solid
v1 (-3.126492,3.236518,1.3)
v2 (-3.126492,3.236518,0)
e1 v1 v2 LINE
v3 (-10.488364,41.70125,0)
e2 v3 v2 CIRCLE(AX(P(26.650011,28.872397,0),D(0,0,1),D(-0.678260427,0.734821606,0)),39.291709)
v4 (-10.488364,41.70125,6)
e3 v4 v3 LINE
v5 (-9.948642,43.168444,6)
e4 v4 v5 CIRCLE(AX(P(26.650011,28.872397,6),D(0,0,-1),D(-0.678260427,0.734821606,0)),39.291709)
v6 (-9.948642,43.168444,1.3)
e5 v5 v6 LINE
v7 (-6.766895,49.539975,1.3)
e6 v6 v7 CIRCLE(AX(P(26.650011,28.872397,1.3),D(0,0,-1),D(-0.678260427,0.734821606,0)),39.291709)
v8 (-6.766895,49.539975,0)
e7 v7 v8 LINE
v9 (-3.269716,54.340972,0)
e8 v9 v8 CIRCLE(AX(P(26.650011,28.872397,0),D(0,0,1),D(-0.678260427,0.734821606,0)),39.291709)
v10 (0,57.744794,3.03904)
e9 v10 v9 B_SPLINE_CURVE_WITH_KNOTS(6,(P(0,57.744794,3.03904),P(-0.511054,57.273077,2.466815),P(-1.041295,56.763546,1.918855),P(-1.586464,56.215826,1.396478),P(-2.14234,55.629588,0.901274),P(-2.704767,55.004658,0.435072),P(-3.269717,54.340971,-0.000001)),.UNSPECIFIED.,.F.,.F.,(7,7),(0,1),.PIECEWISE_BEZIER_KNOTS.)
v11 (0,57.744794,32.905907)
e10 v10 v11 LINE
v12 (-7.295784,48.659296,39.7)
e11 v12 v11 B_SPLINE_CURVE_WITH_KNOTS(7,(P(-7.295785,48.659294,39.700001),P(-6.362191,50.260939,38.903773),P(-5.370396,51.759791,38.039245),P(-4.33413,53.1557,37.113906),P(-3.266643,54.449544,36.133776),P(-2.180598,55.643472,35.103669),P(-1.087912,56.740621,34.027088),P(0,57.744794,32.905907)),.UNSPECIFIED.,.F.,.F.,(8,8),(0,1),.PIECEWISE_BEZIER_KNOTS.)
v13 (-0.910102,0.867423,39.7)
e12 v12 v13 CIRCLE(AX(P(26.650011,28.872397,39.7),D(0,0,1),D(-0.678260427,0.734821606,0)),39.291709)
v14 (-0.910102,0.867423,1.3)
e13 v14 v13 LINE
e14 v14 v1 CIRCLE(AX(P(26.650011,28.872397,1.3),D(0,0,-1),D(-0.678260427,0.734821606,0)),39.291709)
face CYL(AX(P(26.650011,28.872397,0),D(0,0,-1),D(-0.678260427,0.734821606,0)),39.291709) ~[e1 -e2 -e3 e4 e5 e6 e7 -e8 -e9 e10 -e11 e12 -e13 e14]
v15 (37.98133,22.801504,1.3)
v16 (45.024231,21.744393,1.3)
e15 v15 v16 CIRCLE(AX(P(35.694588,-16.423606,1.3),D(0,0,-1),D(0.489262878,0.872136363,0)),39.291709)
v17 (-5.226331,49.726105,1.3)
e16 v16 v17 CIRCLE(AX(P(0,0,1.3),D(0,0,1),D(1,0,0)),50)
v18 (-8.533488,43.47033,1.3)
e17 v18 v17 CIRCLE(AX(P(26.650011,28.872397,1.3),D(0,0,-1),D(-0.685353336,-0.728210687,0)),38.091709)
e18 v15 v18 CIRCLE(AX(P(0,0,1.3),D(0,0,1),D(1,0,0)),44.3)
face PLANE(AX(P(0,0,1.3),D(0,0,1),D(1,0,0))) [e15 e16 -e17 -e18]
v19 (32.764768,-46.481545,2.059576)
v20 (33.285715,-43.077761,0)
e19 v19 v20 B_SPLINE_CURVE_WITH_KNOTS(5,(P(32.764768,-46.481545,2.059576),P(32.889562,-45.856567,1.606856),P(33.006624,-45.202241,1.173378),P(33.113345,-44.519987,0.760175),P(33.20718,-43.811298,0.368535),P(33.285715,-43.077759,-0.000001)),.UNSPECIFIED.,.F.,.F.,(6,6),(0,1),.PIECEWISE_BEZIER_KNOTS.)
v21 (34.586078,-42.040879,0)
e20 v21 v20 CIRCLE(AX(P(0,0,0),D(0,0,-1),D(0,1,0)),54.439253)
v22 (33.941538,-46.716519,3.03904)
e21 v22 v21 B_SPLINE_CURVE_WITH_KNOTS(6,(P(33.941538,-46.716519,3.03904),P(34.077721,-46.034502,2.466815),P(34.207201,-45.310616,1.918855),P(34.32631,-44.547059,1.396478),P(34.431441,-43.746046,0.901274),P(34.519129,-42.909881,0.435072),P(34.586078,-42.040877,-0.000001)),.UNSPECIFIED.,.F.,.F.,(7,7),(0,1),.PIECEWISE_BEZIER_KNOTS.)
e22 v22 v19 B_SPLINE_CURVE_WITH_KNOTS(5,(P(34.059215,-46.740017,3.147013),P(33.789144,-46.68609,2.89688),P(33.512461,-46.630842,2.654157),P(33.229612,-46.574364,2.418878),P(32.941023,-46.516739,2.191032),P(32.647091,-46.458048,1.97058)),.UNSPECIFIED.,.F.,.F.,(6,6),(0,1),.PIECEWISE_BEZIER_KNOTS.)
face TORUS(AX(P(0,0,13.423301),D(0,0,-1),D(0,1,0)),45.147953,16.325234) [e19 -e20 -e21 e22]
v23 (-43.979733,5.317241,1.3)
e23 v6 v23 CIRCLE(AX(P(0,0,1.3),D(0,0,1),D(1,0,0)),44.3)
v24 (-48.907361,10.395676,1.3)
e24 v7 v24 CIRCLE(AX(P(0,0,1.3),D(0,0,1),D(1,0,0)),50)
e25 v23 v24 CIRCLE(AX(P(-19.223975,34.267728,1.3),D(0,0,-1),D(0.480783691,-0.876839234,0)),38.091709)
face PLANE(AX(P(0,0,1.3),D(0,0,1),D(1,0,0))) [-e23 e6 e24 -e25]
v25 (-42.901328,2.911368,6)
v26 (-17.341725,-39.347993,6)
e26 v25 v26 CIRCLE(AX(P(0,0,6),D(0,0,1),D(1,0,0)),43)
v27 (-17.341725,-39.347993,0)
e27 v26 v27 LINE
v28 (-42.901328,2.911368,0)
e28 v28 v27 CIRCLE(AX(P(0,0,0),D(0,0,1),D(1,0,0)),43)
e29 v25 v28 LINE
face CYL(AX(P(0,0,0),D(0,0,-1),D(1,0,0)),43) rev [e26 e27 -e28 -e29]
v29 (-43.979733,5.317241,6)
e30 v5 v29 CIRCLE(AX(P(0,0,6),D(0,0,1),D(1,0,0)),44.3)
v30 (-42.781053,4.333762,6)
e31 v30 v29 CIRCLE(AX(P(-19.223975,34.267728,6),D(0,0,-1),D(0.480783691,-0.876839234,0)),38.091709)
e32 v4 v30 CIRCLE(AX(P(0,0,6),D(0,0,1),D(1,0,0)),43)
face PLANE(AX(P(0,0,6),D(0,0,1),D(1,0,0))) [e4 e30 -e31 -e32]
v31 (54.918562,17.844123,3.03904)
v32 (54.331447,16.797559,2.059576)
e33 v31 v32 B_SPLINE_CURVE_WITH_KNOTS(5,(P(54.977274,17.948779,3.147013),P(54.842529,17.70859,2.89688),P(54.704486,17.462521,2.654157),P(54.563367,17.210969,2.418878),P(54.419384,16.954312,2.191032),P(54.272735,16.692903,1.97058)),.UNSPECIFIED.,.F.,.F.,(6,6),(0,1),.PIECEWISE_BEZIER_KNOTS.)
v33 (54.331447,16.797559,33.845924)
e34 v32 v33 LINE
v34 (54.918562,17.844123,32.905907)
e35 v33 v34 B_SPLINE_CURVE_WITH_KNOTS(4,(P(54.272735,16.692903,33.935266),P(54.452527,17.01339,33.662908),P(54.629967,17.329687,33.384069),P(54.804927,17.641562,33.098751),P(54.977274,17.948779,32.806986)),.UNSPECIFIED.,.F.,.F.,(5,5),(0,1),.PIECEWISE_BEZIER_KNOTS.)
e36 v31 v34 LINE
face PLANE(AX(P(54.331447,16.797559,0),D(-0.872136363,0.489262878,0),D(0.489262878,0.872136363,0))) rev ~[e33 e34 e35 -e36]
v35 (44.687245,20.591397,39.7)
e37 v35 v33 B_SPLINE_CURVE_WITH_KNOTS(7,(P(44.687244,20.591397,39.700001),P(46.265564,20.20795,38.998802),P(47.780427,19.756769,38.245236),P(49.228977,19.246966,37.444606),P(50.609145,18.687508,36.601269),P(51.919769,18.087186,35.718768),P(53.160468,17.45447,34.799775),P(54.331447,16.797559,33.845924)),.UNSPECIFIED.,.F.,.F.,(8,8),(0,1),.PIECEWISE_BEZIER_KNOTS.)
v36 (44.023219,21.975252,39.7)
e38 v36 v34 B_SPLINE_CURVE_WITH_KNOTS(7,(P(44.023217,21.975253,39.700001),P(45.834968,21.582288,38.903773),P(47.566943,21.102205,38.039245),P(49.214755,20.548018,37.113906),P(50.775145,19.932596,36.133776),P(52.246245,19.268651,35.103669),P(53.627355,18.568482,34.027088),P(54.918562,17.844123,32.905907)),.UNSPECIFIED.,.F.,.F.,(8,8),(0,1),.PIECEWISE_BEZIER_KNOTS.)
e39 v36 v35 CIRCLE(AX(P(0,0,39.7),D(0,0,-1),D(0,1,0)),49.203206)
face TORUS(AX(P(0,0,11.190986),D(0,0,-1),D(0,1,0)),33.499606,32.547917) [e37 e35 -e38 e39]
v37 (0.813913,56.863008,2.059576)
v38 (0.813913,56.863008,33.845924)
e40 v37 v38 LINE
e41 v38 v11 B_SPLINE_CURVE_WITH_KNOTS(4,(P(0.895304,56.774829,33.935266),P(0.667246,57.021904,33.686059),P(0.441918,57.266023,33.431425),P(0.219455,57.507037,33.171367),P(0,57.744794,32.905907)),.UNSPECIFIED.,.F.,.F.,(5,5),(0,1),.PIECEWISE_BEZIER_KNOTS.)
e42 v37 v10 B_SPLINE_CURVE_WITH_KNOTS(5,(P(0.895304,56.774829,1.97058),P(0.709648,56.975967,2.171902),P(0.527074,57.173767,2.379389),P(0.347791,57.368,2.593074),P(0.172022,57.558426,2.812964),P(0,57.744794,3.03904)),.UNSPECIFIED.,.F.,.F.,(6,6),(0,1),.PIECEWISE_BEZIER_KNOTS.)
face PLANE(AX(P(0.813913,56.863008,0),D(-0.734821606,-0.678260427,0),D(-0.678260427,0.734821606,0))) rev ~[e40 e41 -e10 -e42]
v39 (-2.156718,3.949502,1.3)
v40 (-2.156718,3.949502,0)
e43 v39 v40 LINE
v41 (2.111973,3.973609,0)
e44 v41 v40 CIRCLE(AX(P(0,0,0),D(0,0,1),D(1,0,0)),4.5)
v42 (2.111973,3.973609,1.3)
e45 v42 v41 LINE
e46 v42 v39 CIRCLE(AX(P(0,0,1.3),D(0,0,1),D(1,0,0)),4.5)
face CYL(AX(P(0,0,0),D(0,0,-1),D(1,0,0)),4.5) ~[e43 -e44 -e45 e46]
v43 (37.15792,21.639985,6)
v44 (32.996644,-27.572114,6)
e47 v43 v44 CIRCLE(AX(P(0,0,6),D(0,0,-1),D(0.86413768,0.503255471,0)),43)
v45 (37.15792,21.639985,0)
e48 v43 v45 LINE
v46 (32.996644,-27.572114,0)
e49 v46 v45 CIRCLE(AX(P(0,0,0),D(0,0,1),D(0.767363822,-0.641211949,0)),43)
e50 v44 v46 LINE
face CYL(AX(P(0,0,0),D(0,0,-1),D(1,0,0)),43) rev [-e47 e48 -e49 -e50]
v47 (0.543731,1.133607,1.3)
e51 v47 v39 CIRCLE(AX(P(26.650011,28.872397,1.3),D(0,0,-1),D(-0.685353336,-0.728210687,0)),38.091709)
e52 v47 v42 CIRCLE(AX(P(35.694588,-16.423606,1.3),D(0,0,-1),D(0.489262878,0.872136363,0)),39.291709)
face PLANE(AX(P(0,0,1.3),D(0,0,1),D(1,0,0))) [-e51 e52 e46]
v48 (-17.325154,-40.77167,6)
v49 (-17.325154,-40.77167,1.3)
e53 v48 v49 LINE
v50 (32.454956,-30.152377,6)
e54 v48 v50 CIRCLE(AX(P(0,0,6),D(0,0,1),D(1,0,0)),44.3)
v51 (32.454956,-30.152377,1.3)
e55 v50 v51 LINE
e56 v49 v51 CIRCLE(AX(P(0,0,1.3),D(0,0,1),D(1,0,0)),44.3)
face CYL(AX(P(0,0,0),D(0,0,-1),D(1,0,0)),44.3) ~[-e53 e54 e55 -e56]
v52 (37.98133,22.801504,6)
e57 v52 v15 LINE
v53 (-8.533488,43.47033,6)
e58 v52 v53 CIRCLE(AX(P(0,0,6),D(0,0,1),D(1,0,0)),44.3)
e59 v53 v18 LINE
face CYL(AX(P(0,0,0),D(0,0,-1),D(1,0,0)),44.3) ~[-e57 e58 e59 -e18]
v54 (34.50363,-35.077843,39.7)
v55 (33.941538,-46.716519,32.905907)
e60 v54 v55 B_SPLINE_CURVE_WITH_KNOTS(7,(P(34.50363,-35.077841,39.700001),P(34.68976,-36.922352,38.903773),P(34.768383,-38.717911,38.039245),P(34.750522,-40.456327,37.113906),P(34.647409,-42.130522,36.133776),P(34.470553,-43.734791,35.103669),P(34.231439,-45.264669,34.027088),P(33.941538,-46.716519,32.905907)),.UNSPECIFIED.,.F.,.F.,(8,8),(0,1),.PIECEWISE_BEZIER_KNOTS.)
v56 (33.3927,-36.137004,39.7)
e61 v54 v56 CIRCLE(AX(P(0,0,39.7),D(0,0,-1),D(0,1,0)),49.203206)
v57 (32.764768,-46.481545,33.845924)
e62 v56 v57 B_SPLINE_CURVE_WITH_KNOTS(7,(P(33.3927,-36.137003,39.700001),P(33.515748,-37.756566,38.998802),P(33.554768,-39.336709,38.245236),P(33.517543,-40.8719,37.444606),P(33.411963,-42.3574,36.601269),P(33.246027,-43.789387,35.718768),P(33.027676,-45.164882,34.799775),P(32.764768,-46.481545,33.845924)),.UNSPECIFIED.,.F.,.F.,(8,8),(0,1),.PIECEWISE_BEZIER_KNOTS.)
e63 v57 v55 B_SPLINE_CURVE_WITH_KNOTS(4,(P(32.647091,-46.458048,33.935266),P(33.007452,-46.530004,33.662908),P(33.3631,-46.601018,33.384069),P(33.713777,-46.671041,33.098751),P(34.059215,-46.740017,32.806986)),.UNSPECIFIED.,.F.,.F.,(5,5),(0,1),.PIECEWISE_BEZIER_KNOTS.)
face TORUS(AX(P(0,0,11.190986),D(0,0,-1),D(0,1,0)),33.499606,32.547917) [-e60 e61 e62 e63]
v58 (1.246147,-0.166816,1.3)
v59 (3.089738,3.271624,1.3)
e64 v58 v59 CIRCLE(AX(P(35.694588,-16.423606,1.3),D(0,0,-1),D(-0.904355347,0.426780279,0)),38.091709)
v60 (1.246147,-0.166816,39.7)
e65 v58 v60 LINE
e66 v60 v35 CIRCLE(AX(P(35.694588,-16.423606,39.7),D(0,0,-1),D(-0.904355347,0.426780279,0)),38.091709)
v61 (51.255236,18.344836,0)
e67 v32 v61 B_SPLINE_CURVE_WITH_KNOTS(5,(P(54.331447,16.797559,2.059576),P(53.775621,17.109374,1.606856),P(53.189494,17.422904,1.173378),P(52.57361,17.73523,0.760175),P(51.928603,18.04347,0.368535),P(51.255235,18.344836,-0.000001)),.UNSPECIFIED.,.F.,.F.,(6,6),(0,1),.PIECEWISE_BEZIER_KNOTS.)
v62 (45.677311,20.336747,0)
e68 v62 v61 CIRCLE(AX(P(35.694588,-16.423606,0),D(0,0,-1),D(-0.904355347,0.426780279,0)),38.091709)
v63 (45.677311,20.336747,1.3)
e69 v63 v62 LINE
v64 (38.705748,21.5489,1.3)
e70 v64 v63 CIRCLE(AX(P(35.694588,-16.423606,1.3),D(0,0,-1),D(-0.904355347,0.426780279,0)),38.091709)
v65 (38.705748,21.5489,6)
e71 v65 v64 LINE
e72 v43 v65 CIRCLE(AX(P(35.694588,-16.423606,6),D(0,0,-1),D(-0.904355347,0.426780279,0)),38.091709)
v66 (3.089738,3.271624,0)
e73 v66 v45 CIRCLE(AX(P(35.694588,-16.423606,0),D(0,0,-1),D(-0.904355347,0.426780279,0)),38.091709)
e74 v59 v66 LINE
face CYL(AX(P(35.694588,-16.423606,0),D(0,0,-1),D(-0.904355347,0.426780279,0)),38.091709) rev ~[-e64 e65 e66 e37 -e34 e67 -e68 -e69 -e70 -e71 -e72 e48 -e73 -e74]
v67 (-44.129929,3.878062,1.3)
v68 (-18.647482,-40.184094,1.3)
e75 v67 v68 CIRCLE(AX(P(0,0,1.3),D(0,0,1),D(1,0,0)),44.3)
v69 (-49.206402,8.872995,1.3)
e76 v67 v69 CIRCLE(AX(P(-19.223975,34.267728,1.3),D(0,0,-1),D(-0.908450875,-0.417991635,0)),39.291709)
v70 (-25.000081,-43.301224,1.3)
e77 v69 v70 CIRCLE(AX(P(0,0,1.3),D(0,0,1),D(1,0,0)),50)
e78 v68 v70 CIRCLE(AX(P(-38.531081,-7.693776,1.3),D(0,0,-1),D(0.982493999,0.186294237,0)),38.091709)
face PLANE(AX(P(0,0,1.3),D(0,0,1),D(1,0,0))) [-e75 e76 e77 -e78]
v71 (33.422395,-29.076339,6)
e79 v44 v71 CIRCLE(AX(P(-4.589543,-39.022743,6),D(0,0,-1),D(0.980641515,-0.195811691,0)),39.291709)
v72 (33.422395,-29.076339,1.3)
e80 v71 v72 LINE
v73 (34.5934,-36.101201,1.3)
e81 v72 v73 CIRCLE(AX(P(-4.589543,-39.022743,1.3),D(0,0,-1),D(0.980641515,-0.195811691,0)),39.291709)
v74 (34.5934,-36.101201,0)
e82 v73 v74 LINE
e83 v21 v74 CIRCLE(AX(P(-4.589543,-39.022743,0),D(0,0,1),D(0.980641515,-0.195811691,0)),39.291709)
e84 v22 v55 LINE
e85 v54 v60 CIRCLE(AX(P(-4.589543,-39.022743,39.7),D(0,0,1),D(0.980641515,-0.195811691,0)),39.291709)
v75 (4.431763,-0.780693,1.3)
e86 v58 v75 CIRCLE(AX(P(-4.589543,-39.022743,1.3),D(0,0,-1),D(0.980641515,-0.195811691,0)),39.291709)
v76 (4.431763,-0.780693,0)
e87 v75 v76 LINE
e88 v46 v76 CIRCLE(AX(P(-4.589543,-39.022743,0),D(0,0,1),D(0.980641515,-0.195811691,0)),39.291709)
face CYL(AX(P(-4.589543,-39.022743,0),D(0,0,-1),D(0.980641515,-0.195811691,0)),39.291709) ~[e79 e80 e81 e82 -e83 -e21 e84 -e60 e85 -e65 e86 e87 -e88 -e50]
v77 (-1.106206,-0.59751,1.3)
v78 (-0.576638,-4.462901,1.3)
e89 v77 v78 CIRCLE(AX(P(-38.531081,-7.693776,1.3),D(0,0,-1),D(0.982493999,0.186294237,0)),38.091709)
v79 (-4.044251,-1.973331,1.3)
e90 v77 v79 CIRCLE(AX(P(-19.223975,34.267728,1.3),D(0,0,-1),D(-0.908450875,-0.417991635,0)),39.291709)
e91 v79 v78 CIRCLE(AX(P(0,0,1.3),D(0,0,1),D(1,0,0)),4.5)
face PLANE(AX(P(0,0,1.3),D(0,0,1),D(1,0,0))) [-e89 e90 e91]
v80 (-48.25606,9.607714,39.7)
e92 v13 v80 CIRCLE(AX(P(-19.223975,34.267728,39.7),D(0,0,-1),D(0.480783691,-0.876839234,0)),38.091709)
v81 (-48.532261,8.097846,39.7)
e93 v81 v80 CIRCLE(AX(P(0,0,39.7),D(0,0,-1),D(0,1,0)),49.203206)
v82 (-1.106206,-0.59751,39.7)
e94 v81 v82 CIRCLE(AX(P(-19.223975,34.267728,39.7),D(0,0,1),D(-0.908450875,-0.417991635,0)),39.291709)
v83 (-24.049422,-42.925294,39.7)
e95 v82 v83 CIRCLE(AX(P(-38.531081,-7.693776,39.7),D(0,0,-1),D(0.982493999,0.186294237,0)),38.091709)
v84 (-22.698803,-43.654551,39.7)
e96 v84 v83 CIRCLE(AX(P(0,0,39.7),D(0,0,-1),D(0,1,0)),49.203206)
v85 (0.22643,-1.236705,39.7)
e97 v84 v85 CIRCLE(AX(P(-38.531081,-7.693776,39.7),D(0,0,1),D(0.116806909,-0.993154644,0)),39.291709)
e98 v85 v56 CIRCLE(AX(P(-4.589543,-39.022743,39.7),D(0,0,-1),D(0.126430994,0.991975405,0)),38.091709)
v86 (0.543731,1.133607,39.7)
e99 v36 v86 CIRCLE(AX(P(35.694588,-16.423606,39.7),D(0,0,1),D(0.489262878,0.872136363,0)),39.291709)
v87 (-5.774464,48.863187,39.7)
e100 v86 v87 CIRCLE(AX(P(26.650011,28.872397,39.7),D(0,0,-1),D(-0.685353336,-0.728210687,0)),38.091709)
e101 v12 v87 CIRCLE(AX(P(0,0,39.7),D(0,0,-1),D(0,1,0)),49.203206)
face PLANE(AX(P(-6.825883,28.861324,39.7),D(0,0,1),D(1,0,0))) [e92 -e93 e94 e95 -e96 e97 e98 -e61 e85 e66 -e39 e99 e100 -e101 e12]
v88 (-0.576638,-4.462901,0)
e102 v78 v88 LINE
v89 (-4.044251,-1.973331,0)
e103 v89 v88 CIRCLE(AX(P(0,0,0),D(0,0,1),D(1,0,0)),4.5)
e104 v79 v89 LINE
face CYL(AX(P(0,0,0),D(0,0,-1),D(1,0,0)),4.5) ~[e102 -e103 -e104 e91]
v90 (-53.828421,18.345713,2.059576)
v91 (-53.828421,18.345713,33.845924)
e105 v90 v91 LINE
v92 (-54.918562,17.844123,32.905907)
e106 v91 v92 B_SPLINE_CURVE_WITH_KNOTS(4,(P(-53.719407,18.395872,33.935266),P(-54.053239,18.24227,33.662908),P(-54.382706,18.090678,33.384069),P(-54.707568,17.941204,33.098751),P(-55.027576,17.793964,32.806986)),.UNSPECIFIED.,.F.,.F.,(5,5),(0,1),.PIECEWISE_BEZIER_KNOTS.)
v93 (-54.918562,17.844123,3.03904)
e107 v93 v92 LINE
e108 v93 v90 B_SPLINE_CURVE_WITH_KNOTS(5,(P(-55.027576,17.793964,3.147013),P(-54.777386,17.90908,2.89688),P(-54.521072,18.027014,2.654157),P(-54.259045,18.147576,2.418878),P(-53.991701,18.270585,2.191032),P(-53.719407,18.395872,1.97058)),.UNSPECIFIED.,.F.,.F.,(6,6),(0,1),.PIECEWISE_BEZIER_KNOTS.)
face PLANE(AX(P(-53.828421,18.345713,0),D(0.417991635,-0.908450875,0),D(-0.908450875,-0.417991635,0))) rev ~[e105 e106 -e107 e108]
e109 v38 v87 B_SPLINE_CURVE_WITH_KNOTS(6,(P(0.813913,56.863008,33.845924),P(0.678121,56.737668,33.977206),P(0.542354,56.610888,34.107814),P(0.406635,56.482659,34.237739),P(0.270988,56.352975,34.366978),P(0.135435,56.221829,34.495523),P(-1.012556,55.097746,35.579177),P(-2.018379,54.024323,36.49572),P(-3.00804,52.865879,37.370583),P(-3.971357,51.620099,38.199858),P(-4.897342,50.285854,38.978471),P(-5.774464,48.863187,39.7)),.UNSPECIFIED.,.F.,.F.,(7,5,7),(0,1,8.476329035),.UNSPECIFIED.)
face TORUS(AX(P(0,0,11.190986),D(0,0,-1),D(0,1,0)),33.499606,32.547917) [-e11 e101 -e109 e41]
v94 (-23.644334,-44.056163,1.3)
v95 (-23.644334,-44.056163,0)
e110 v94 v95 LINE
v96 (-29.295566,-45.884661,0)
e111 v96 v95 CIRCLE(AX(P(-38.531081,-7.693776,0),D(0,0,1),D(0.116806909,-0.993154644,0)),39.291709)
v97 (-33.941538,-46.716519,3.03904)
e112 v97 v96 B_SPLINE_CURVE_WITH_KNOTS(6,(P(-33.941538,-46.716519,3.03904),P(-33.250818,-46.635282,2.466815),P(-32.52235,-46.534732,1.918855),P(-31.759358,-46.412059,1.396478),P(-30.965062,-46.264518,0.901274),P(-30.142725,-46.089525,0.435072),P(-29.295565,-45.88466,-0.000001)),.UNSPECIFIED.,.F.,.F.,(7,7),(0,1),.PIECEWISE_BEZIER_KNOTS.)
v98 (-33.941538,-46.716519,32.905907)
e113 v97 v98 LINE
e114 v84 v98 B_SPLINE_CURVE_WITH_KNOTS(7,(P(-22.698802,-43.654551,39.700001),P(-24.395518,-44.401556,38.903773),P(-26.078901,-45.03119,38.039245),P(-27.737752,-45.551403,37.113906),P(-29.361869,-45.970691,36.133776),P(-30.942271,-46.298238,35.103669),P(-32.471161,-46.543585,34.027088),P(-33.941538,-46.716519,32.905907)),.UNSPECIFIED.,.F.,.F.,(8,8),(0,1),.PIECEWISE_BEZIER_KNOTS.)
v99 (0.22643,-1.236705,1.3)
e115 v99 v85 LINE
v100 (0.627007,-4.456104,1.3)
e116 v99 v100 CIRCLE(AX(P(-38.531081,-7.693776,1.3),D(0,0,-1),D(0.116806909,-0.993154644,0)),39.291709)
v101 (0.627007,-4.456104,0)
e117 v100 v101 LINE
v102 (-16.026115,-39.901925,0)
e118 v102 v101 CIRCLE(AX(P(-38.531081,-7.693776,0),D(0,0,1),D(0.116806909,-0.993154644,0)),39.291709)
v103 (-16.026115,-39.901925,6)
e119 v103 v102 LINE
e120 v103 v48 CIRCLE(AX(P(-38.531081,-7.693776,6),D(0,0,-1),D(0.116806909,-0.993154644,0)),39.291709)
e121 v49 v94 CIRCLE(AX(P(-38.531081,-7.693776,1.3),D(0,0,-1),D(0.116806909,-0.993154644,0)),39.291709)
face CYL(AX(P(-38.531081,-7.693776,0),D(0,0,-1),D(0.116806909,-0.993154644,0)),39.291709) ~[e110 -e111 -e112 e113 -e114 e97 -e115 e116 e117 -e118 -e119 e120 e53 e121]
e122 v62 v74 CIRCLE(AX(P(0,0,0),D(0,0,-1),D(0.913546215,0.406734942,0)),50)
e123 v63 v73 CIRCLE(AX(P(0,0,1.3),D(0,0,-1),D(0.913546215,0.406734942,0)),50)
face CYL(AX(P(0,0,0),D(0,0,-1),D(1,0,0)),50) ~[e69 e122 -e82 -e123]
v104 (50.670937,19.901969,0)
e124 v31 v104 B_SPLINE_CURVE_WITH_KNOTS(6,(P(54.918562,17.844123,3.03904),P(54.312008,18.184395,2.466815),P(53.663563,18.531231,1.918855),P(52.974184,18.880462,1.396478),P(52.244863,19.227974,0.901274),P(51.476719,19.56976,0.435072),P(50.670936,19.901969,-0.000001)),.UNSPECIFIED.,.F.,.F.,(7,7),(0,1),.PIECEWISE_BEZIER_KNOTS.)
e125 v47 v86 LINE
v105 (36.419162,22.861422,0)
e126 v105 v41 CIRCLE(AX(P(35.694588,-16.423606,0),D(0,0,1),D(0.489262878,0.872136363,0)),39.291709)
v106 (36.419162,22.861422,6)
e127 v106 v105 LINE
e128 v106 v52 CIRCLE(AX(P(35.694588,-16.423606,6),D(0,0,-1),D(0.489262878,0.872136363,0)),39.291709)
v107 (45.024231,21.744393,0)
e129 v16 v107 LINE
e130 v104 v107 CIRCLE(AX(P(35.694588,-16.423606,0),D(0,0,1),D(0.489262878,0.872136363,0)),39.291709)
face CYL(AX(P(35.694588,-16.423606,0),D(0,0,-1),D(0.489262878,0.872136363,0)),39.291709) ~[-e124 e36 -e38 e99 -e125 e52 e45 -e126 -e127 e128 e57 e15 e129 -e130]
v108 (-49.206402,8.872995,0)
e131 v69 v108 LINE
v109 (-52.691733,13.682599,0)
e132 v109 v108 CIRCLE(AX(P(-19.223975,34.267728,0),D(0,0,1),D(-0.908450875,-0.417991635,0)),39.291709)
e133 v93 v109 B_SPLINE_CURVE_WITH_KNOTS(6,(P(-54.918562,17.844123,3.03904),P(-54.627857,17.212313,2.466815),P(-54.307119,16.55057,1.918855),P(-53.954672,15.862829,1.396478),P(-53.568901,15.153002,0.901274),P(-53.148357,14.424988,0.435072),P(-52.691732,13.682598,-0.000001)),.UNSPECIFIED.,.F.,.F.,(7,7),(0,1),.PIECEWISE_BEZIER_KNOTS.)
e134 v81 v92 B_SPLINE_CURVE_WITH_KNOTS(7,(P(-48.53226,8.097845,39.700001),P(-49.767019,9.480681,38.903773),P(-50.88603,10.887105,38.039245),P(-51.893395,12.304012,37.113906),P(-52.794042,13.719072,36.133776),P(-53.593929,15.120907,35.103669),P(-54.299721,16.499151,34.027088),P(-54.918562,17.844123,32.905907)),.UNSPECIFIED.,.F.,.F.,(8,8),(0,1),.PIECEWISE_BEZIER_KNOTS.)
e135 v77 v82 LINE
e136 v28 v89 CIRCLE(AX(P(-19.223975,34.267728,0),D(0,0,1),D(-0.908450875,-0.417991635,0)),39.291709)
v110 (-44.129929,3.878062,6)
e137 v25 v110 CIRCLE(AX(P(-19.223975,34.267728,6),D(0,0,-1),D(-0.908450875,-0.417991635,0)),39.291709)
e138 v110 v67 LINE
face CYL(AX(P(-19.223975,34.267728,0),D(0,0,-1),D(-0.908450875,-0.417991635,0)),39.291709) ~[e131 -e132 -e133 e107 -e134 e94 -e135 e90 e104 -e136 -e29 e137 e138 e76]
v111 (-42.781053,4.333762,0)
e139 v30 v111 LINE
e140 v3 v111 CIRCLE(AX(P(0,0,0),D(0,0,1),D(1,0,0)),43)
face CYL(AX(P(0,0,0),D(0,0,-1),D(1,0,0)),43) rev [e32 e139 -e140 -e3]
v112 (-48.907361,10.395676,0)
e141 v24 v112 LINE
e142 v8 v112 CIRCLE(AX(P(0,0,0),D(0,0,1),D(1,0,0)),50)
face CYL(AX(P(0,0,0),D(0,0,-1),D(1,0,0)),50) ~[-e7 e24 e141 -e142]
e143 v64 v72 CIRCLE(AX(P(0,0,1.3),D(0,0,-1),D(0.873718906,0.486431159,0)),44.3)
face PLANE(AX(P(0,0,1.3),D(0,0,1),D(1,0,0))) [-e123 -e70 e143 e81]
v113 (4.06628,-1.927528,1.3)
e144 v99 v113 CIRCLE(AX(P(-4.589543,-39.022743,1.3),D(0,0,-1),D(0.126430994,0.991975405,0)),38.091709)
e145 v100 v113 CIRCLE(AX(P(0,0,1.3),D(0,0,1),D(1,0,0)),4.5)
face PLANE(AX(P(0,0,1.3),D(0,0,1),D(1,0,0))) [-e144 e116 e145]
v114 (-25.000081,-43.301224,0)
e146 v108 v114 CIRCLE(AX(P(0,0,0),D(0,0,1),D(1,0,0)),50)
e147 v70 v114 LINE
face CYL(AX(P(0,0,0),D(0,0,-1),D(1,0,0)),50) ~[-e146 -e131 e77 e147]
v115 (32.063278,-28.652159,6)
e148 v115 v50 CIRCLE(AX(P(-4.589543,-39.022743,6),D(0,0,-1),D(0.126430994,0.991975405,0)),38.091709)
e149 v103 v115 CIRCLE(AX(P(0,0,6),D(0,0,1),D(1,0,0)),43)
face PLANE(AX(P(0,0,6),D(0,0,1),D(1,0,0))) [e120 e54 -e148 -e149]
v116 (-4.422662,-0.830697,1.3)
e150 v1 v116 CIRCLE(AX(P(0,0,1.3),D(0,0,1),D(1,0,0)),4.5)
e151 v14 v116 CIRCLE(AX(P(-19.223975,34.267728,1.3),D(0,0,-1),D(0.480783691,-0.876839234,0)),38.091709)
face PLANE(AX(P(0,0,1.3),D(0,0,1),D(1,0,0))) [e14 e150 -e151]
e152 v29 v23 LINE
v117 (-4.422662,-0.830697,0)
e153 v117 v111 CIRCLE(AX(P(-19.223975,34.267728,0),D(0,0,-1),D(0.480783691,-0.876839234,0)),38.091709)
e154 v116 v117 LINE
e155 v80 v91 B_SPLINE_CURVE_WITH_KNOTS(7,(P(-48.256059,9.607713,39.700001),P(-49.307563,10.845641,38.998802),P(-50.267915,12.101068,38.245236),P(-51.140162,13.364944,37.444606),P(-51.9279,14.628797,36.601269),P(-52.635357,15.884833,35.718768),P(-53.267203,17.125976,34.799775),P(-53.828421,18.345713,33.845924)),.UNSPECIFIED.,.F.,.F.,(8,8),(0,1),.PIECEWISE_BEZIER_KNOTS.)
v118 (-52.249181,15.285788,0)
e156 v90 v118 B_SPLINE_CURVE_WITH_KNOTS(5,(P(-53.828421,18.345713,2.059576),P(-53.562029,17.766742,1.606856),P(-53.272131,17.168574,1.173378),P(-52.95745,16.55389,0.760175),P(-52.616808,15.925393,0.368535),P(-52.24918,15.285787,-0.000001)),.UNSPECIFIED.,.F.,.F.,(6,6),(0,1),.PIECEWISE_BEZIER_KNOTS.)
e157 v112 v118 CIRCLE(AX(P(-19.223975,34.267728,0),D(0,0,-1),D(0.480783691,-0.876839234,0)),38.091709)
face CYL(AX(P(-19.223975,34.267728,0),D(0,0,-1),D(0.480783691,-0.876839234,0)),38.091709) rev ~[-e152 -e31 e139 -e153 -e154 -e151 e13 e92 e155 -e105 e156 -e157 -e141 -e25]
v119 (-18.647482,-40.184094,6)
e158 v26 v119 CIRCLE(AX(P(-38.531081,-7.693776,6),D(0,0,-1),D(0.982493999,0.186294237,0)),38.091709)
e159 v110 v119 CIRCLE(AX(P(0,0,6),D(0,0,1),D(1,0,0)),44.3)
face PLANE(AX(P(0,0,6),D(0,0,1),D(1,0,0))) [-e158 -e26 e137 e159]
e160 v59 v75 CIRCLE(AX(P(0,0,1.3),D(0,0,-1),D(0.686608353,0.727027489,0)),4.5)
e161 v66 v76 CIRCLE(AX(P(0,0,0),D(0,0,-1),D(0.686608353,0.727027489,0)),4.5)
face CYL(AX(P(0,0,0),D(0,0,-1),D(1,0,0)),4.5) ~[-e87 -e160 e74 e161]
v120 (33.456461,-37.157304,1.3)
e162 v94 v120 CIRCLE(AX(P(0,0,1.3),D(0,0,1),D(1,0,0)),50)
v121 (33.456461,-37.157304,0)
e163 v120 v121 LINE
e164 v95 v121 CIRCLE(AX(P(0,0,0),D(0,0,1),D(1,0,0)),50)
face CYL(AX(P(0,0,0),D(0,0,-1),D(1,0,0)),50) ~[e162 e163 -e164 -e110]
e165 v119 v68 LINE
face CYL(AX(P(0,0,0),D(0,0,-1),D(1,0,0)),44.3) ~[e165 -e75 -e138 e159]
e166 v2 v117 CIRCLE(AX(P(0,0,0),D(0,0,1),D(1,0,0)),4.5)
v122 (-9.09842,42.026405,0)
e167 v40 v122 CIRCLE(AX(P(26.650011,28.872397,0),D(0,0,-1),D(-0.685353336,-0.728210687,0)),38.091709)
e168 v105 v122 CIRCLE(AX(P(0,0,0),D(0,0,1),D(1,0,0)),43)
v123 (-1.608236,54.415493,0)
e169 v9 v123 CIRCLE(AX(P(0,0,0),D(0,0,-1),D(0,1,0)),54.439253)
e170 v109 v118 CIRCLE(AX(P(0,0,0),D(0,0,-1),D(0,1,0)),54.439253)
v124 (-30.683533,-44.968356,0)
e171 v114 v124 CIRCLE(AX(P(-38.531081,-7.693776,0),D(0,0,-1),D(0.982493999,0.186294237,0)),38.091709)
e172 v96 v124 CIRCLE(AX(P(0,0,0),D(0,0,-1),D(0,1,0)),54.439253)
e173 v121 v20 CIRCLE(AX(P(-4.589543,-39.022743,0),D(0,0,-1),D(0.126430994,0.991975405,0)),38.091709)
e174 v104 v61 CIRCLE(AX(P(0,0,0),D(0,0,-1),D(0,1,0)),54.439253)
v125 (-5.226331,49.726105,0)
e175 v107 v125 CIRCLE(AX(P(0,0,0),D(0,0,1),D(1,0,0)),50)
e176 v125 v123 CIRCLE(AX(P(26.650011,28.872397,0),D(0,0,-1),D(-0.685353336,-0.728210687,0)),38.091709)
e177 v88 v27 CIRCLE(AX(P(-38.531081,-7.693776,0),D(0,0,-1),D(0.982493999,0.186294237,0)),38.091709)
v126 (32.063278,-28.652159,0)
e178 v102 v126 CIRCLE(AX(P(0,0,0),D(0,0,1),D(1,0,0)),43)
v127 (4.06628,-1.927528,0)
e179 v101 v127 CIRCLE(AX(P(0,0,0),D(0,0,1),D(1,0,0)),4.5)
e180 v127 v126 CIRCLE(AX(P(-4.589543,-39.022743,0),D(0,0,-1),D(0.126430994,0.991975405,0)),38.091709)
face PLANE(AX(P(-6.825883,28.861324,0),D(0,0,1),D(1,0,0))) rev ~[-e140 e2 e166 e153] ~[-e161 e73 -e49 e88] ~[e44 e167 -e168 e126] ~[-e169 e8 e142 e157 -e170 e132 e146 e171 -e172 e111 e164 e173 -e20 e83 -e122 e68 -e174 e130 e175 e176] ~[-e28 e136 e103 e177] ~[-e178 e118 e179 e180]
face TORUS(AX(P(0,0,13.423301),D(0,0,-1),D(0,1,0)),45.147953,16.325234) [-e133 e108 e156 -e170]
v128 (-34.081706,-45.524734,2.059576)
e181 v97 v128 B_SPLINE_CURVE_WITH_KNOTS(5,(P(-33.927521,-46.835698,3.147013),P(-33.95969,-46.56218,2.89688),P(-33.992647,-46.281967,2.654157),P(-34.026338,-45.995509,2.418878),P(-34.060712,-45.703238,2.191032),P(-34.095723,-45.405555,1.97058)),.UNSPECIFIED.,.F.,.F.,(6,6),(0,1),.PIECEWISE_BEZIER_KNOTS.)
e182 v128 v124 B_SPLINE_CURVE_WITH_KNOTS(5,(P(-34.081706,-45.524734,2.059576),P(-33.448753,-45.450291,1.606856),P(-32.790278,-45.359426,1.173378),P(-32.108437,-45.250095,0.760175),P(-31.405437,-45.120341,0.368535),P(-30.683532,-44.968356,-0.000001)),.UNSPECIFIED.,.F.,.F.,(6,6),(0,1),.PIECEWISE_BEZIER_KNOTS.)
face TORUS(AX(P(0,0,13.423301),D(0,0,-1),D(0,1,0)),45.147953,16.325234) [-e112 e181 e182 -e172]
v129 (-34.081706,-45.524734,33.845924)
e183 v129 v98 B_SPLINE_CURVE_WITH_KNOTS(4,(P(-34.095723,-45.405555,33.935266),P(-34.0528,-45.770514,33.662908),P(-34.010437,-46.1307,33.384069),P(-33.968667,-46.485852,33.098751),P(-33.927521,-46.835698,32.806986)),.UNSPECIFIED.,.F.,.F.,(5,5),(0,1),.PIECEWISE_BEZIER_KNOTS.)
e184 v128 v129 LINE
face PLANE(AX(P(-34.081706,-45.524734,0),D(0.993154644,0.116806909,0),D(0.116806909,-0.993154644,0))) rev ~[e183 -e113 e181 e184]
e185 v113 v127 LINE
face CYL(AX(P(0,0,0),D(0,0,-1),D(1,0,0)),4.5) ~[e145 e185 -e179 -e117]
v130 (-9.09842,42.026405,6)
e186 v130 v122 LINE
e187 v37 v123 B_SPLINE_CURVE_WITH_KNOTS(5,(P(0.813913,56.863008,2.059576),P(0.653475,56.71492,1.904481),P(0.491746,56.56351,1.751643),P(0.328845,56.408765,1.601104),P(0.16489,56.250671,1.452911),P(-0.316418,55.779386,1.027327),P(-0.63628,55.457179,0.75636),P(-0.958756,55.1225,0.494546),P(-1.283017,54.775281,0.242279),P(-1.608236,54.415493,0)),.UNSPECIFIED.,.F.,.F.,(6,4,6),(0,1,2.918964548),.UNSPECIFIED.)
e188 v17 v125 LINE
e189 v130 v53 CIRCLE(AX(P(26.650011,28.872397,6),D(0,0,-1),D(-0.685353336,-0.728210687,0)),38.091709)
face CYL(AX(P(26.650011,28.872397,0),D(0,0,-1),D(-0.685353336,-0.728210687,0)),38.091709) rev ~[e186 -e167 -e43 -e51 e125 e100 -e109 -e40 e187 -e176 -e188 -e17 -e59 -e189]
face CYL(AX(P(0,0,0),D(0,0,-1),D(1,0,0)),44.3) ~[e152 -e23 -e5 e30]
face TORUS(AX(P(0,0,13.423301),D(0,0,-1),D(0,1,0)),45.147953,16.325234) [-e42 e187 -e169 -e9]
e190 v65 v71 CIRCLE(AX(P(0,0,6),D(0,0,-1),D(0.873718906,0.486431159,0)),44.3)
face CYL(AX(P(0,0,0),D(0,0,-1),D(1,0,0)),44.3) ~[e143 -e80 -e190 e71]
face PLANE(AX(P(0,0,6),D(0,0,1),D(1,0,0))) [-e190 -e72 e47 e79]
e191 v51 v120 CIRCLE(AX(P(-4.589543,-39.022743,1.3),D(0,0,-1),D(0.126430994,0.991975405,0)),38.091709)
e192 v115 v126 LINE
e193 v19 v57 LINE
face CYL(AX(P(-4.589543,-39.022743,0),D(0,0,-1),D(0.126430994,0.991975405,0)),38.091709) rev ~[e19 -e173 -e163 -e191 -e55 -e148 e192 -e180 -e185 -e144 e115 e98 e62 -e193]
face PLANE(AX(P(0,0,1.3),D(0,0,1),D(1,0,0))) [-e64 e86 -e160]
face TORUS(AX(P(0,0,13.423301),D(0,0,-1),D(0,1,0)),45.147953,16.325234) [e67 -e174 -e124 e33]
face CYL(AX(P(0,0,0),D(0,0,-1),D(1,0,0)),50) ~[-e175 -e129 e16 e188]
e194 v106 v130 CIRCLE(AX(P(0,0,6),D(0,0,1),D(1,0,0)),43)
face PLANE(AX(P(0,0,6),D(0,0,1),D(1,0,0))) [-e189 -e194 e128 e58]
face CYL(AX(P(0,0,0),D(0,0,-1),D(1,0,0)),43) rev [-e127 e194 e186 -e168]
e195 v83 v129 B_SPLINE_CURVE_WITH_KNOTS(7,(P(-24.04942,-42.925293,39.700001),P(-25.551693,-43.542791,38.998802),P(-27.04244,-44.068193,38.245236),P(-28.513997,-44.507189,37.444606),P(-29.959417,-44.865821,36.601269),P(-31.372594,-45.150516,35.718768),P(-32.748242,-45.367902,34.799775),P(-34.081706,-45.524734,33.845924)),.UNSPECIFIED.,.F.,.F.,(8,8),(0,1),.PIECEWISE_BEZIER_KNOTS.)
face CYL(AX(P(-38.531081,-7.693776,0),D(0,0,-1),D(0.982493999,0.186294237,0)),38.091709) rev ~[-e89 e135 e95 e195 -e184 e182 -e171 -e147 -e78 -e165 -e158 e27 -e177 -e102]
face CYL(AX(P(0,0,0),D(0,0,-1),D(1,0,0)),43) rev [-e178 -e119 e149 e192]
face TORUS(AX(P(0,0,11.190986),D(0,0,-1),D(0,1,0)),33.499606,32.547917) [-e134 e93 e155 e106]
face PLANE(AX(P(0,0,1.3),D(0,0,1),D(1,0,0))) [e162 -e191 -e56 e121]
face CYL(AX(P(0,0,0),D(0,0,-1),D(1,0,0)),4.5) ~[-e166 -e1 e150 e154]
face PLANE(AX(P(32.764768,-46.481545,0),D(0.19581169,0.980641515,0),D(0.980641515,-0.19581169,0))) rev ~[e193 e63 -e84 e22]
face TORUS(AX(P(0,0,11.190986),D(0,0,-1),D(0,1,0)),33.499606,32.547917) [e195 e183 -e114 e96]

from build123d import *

# Parameters (mm, degrees)
F0_R     = 44.3
F0_R_2   = 43
F1_DEPTH = 6
F0_R_3   = 50
F2_DEPTH = 1.3
F0_R_4   = 4.5
F4_DEPTH = 39.7


with BuildPart() as f1:
    # F0 (on Top) → F1 (new body)
    with BuildSketch(Plane.XY):
        Circle(F0_R)
        Circle(F0_R_2, mode=Mode.SUBTRACT)
    extrude(amount=F1_DEPTH)

    # F0 (on Top) → F2 (join)
    with BuildSketch(Plane.XY):
        Circle(F0_R_3)
        Circle(F0_R, mode=Mode.SUBTRACT)
    extrude(amount=F2_DEPTH)



with BuildPart() as f2:
    # F0 (on Top) → F2, piece 2 (new body)
    with BuildSketch(Plane.XY):
        Circle(F0_R_4)
    extrude(amount=F2_DEPTH)


with BuildPart() as f1_1:
    add(f1.part)

    add(f2.part)  # F4 merges F2
    # F3 (on Top) → F4 (join)
    with BuildSketch(Plane.XY):
        with BuildLine():
            Line((0.813912513, 56.8630076668), (0, 57.7447935939))
            ThreePointArc((0, 57.7447935939), (-12.6366686131, 29.501028063), (-0.9101021846, 0.8674232463))
            ThreePointArc((-0.9101021846, 0.8674232463), (-0.7483916982, 0.9566019765), (-0.5871154535, 1.046563636))
            Line((-0.5871154535, 1.046563636), (0, 0))
            ThreePointArc((0, 0), (0.267331286, 0.5689785091), (0.5437314891, 1.1336071376))
            ThreePointArc((0.5437314891, 1.1336071376), (-11.4412500514, 29.057066575), (0.813912513, 56.8630076668))
        make_face()
        with BuildLine():
            ThreePointArc((-0.5871154535, 1.046563636), (-0.7483916982, 0.9566019765), (-0.9101021846, 0.8674232463))
            ThreePointArc((-0.9101021846, 0.8674232463), (-0.4585208082, 0.4300711904), (0, 0))
            Line((0, 0), (-0.5871154535, 1.046563636))
        make_face()
        with BuildLine():
            ThreePointArc((0, 0), (-0.4585208082, 0.4300711904), (-0.9101021846, 0.8674232463))
            ThreePointArc((-0.9101021846, 0.8674232463), (-31.1704532134, -1.9021480376), (-53.8284211792, 18.3457125195))
            Line((-53.8284211792, 18.3457125195), (-54.9185622296, 17.8441225572))
            ThreePointArc((-54.9185622296, 17.8441225572), (-31.9620903304, -2.9018670057), (-1.1062055724, -0.5975100887))
            ThreePointArc((-1.1062055724, -0.5975100887), (-1.1410482964, -0.4161565338), (-1.1767698186, -0.2349740286))
            Line((-1.1767698186, -0.2349740286), (0, 0))
        make_face()
        with BuildLine():
            ThreePointArc((0.5437314891, 1.1336071376), (0.267331286, 0.5689785091), (0, 0))
            Line((0, 0), (0.813912513, 0.8817859271))
            ThreePointArc((0.813912513, 0.8817859271), (0.67851679, 1.0073690689), (0.5437314891, 1.1336071376))
        make_face()
        with BuildLine():
            Line((-0.1401682913, -1.1917855722), (0, 0))
            ThreePointArc((0, 0), (-0.5507127301, -0.3031798959), (-1.1062055724, -0.5975100887))
            ThreePointArc((-1.1062055724, -0.5975100887), (-7.8231494792, -30.2326587139), (-34.0817063625, -45.5247337819))
            Line((-34.0817063625, -45.5247337819), (-33.9415380712, -46.7165193541))
            ThreePointArc((-33.9415380712, -46.7165193541), (-7.1169895626, -31.2944805034), (0.2264295423, -1.2367047898))
            ThreePointArc((0.2264295423, -1.2367047898), (0.0431850682, -1.213800859), (-0.1401682913, -1.1917855722))
        make_face()
        with BuildLine():
            Line((1.0901410504, -0.5015899623), (0, 0))
            ThreePointArc((0, 0), (0.118161623, -0.6174466707), (0.2264295423, -1.2367047898))
            ThreePointArc((0.2264295423, -1.2367047898), (26.3354809362, -16.7826626179), (32.7647682526, -46.4815453255))
            Line((32.7647682526, -46.4815453255), (33.9415380712, -46.7165193541))
            ThreePointArc((33.9415380712, -46.7165193541), (27.5635488832, -16.4391856056), (1.2461467256, -0.1668155054))
            ThreePointArc((1.2461467256, -0.1668155054), (1.1677381364, -0.3340136527), (1.0901410504, -0.5015899623))
        make_face()
        with BuildLine():
            ThreePointArc((-1.1062055724, -0.5975100887), (-0.5507127301, -0.3031798959), (0, 0))
            Line((0, 0), (-1.1767698186, -0.2349740286))
            ThreePointArc((-1.1767698186, -0.2349740286), (-1.1410482964, -0.4161565338), (-1.1062055724, -0.5975100887))
        make_face()
        with BuildLine():
            Line((0.813912513, 0.8817859271), (0, 0))
            ThreePointArc((0, 0), (0.6237406292, -0.0784231329), (1.2461467256, -0.1668155054))
            ThreePointArc((1.2461467256, -0.1668155054), (24.0993718078, 19.8604027943), (54.3314467761, 16.7975589211))
            Line((54.3314467761, 16.7975589211), (54.9185622296, 17.8441225572))
            ThreePointArc((54.9185622296, 17.8441225572), (24.152199623, 21.1345050517), (0.5437314891, 1.1336071376))
            ThreePointArc((0.5437314891, 1.1336071376), (0.67851679, 1.0073690689), (0.813912513, 0.8817859271))
        make_face()
        with BuildLine():
            ThreePointArc((0.2264295423, -1.2367047898), (0.118161623, -0.6174466707), (0, 0))
            Line((0, 0), (-0.1401682913, -1.1917855722))
            ThreePointArc((-0.1401682913, -1.1917855722), (0.0431850682, -1.213800859), (0.2264295423, -1.2367047898))
        make_face()
        with BuildLine():
            ThreePointArc((1.2461467256, -0.1668155054), (0.6237406292, -0.0784231329), (0, 0))
            Line((0, 0), (1.0901410504, -0.5015899623))
            ThreePointArc((1.0901410504, -0.5015899623), (1.1677381364, -0.3340136527), (1.2461467256, -0.1668155054))
        make_face()
    extrude(amount=F4_DEPTH)

    # F5 (on Right) → F6 (revolve, cut)
    with BuildSketch(Plane.YZ):
        with BuildLine():
            Line((64.435094595, 43.7389037002), (33.4996059537, 43.7389037002))
            ThreePointArc((33.4996059537, 43.7389037002), (52.6054366049, 37.5412075606), (64.435094595, 21.3084199335))
            Line((64.435094595, 21.3084199335), (64.435094595, 43.7389037002))
        make_face()
        with BuildLine():
            ThreePointArc((61.4731870592, 13.4233012795), (57.7598621582, 3.0573466208), (48.3091473579, -2.5929443073))
            Line((48.3091473579, -2.5929443073), (61.4731870592, -2.5929443073))
            Line((61.4731870592, -2.5929443073), (61.4731870592, 13.4233012795))
        make_face()
    revolve(axis=Axis((0, 0, 0), (0, 0, -1)), mode=Mode.SUBTRACT)


solid = f1_1.part
